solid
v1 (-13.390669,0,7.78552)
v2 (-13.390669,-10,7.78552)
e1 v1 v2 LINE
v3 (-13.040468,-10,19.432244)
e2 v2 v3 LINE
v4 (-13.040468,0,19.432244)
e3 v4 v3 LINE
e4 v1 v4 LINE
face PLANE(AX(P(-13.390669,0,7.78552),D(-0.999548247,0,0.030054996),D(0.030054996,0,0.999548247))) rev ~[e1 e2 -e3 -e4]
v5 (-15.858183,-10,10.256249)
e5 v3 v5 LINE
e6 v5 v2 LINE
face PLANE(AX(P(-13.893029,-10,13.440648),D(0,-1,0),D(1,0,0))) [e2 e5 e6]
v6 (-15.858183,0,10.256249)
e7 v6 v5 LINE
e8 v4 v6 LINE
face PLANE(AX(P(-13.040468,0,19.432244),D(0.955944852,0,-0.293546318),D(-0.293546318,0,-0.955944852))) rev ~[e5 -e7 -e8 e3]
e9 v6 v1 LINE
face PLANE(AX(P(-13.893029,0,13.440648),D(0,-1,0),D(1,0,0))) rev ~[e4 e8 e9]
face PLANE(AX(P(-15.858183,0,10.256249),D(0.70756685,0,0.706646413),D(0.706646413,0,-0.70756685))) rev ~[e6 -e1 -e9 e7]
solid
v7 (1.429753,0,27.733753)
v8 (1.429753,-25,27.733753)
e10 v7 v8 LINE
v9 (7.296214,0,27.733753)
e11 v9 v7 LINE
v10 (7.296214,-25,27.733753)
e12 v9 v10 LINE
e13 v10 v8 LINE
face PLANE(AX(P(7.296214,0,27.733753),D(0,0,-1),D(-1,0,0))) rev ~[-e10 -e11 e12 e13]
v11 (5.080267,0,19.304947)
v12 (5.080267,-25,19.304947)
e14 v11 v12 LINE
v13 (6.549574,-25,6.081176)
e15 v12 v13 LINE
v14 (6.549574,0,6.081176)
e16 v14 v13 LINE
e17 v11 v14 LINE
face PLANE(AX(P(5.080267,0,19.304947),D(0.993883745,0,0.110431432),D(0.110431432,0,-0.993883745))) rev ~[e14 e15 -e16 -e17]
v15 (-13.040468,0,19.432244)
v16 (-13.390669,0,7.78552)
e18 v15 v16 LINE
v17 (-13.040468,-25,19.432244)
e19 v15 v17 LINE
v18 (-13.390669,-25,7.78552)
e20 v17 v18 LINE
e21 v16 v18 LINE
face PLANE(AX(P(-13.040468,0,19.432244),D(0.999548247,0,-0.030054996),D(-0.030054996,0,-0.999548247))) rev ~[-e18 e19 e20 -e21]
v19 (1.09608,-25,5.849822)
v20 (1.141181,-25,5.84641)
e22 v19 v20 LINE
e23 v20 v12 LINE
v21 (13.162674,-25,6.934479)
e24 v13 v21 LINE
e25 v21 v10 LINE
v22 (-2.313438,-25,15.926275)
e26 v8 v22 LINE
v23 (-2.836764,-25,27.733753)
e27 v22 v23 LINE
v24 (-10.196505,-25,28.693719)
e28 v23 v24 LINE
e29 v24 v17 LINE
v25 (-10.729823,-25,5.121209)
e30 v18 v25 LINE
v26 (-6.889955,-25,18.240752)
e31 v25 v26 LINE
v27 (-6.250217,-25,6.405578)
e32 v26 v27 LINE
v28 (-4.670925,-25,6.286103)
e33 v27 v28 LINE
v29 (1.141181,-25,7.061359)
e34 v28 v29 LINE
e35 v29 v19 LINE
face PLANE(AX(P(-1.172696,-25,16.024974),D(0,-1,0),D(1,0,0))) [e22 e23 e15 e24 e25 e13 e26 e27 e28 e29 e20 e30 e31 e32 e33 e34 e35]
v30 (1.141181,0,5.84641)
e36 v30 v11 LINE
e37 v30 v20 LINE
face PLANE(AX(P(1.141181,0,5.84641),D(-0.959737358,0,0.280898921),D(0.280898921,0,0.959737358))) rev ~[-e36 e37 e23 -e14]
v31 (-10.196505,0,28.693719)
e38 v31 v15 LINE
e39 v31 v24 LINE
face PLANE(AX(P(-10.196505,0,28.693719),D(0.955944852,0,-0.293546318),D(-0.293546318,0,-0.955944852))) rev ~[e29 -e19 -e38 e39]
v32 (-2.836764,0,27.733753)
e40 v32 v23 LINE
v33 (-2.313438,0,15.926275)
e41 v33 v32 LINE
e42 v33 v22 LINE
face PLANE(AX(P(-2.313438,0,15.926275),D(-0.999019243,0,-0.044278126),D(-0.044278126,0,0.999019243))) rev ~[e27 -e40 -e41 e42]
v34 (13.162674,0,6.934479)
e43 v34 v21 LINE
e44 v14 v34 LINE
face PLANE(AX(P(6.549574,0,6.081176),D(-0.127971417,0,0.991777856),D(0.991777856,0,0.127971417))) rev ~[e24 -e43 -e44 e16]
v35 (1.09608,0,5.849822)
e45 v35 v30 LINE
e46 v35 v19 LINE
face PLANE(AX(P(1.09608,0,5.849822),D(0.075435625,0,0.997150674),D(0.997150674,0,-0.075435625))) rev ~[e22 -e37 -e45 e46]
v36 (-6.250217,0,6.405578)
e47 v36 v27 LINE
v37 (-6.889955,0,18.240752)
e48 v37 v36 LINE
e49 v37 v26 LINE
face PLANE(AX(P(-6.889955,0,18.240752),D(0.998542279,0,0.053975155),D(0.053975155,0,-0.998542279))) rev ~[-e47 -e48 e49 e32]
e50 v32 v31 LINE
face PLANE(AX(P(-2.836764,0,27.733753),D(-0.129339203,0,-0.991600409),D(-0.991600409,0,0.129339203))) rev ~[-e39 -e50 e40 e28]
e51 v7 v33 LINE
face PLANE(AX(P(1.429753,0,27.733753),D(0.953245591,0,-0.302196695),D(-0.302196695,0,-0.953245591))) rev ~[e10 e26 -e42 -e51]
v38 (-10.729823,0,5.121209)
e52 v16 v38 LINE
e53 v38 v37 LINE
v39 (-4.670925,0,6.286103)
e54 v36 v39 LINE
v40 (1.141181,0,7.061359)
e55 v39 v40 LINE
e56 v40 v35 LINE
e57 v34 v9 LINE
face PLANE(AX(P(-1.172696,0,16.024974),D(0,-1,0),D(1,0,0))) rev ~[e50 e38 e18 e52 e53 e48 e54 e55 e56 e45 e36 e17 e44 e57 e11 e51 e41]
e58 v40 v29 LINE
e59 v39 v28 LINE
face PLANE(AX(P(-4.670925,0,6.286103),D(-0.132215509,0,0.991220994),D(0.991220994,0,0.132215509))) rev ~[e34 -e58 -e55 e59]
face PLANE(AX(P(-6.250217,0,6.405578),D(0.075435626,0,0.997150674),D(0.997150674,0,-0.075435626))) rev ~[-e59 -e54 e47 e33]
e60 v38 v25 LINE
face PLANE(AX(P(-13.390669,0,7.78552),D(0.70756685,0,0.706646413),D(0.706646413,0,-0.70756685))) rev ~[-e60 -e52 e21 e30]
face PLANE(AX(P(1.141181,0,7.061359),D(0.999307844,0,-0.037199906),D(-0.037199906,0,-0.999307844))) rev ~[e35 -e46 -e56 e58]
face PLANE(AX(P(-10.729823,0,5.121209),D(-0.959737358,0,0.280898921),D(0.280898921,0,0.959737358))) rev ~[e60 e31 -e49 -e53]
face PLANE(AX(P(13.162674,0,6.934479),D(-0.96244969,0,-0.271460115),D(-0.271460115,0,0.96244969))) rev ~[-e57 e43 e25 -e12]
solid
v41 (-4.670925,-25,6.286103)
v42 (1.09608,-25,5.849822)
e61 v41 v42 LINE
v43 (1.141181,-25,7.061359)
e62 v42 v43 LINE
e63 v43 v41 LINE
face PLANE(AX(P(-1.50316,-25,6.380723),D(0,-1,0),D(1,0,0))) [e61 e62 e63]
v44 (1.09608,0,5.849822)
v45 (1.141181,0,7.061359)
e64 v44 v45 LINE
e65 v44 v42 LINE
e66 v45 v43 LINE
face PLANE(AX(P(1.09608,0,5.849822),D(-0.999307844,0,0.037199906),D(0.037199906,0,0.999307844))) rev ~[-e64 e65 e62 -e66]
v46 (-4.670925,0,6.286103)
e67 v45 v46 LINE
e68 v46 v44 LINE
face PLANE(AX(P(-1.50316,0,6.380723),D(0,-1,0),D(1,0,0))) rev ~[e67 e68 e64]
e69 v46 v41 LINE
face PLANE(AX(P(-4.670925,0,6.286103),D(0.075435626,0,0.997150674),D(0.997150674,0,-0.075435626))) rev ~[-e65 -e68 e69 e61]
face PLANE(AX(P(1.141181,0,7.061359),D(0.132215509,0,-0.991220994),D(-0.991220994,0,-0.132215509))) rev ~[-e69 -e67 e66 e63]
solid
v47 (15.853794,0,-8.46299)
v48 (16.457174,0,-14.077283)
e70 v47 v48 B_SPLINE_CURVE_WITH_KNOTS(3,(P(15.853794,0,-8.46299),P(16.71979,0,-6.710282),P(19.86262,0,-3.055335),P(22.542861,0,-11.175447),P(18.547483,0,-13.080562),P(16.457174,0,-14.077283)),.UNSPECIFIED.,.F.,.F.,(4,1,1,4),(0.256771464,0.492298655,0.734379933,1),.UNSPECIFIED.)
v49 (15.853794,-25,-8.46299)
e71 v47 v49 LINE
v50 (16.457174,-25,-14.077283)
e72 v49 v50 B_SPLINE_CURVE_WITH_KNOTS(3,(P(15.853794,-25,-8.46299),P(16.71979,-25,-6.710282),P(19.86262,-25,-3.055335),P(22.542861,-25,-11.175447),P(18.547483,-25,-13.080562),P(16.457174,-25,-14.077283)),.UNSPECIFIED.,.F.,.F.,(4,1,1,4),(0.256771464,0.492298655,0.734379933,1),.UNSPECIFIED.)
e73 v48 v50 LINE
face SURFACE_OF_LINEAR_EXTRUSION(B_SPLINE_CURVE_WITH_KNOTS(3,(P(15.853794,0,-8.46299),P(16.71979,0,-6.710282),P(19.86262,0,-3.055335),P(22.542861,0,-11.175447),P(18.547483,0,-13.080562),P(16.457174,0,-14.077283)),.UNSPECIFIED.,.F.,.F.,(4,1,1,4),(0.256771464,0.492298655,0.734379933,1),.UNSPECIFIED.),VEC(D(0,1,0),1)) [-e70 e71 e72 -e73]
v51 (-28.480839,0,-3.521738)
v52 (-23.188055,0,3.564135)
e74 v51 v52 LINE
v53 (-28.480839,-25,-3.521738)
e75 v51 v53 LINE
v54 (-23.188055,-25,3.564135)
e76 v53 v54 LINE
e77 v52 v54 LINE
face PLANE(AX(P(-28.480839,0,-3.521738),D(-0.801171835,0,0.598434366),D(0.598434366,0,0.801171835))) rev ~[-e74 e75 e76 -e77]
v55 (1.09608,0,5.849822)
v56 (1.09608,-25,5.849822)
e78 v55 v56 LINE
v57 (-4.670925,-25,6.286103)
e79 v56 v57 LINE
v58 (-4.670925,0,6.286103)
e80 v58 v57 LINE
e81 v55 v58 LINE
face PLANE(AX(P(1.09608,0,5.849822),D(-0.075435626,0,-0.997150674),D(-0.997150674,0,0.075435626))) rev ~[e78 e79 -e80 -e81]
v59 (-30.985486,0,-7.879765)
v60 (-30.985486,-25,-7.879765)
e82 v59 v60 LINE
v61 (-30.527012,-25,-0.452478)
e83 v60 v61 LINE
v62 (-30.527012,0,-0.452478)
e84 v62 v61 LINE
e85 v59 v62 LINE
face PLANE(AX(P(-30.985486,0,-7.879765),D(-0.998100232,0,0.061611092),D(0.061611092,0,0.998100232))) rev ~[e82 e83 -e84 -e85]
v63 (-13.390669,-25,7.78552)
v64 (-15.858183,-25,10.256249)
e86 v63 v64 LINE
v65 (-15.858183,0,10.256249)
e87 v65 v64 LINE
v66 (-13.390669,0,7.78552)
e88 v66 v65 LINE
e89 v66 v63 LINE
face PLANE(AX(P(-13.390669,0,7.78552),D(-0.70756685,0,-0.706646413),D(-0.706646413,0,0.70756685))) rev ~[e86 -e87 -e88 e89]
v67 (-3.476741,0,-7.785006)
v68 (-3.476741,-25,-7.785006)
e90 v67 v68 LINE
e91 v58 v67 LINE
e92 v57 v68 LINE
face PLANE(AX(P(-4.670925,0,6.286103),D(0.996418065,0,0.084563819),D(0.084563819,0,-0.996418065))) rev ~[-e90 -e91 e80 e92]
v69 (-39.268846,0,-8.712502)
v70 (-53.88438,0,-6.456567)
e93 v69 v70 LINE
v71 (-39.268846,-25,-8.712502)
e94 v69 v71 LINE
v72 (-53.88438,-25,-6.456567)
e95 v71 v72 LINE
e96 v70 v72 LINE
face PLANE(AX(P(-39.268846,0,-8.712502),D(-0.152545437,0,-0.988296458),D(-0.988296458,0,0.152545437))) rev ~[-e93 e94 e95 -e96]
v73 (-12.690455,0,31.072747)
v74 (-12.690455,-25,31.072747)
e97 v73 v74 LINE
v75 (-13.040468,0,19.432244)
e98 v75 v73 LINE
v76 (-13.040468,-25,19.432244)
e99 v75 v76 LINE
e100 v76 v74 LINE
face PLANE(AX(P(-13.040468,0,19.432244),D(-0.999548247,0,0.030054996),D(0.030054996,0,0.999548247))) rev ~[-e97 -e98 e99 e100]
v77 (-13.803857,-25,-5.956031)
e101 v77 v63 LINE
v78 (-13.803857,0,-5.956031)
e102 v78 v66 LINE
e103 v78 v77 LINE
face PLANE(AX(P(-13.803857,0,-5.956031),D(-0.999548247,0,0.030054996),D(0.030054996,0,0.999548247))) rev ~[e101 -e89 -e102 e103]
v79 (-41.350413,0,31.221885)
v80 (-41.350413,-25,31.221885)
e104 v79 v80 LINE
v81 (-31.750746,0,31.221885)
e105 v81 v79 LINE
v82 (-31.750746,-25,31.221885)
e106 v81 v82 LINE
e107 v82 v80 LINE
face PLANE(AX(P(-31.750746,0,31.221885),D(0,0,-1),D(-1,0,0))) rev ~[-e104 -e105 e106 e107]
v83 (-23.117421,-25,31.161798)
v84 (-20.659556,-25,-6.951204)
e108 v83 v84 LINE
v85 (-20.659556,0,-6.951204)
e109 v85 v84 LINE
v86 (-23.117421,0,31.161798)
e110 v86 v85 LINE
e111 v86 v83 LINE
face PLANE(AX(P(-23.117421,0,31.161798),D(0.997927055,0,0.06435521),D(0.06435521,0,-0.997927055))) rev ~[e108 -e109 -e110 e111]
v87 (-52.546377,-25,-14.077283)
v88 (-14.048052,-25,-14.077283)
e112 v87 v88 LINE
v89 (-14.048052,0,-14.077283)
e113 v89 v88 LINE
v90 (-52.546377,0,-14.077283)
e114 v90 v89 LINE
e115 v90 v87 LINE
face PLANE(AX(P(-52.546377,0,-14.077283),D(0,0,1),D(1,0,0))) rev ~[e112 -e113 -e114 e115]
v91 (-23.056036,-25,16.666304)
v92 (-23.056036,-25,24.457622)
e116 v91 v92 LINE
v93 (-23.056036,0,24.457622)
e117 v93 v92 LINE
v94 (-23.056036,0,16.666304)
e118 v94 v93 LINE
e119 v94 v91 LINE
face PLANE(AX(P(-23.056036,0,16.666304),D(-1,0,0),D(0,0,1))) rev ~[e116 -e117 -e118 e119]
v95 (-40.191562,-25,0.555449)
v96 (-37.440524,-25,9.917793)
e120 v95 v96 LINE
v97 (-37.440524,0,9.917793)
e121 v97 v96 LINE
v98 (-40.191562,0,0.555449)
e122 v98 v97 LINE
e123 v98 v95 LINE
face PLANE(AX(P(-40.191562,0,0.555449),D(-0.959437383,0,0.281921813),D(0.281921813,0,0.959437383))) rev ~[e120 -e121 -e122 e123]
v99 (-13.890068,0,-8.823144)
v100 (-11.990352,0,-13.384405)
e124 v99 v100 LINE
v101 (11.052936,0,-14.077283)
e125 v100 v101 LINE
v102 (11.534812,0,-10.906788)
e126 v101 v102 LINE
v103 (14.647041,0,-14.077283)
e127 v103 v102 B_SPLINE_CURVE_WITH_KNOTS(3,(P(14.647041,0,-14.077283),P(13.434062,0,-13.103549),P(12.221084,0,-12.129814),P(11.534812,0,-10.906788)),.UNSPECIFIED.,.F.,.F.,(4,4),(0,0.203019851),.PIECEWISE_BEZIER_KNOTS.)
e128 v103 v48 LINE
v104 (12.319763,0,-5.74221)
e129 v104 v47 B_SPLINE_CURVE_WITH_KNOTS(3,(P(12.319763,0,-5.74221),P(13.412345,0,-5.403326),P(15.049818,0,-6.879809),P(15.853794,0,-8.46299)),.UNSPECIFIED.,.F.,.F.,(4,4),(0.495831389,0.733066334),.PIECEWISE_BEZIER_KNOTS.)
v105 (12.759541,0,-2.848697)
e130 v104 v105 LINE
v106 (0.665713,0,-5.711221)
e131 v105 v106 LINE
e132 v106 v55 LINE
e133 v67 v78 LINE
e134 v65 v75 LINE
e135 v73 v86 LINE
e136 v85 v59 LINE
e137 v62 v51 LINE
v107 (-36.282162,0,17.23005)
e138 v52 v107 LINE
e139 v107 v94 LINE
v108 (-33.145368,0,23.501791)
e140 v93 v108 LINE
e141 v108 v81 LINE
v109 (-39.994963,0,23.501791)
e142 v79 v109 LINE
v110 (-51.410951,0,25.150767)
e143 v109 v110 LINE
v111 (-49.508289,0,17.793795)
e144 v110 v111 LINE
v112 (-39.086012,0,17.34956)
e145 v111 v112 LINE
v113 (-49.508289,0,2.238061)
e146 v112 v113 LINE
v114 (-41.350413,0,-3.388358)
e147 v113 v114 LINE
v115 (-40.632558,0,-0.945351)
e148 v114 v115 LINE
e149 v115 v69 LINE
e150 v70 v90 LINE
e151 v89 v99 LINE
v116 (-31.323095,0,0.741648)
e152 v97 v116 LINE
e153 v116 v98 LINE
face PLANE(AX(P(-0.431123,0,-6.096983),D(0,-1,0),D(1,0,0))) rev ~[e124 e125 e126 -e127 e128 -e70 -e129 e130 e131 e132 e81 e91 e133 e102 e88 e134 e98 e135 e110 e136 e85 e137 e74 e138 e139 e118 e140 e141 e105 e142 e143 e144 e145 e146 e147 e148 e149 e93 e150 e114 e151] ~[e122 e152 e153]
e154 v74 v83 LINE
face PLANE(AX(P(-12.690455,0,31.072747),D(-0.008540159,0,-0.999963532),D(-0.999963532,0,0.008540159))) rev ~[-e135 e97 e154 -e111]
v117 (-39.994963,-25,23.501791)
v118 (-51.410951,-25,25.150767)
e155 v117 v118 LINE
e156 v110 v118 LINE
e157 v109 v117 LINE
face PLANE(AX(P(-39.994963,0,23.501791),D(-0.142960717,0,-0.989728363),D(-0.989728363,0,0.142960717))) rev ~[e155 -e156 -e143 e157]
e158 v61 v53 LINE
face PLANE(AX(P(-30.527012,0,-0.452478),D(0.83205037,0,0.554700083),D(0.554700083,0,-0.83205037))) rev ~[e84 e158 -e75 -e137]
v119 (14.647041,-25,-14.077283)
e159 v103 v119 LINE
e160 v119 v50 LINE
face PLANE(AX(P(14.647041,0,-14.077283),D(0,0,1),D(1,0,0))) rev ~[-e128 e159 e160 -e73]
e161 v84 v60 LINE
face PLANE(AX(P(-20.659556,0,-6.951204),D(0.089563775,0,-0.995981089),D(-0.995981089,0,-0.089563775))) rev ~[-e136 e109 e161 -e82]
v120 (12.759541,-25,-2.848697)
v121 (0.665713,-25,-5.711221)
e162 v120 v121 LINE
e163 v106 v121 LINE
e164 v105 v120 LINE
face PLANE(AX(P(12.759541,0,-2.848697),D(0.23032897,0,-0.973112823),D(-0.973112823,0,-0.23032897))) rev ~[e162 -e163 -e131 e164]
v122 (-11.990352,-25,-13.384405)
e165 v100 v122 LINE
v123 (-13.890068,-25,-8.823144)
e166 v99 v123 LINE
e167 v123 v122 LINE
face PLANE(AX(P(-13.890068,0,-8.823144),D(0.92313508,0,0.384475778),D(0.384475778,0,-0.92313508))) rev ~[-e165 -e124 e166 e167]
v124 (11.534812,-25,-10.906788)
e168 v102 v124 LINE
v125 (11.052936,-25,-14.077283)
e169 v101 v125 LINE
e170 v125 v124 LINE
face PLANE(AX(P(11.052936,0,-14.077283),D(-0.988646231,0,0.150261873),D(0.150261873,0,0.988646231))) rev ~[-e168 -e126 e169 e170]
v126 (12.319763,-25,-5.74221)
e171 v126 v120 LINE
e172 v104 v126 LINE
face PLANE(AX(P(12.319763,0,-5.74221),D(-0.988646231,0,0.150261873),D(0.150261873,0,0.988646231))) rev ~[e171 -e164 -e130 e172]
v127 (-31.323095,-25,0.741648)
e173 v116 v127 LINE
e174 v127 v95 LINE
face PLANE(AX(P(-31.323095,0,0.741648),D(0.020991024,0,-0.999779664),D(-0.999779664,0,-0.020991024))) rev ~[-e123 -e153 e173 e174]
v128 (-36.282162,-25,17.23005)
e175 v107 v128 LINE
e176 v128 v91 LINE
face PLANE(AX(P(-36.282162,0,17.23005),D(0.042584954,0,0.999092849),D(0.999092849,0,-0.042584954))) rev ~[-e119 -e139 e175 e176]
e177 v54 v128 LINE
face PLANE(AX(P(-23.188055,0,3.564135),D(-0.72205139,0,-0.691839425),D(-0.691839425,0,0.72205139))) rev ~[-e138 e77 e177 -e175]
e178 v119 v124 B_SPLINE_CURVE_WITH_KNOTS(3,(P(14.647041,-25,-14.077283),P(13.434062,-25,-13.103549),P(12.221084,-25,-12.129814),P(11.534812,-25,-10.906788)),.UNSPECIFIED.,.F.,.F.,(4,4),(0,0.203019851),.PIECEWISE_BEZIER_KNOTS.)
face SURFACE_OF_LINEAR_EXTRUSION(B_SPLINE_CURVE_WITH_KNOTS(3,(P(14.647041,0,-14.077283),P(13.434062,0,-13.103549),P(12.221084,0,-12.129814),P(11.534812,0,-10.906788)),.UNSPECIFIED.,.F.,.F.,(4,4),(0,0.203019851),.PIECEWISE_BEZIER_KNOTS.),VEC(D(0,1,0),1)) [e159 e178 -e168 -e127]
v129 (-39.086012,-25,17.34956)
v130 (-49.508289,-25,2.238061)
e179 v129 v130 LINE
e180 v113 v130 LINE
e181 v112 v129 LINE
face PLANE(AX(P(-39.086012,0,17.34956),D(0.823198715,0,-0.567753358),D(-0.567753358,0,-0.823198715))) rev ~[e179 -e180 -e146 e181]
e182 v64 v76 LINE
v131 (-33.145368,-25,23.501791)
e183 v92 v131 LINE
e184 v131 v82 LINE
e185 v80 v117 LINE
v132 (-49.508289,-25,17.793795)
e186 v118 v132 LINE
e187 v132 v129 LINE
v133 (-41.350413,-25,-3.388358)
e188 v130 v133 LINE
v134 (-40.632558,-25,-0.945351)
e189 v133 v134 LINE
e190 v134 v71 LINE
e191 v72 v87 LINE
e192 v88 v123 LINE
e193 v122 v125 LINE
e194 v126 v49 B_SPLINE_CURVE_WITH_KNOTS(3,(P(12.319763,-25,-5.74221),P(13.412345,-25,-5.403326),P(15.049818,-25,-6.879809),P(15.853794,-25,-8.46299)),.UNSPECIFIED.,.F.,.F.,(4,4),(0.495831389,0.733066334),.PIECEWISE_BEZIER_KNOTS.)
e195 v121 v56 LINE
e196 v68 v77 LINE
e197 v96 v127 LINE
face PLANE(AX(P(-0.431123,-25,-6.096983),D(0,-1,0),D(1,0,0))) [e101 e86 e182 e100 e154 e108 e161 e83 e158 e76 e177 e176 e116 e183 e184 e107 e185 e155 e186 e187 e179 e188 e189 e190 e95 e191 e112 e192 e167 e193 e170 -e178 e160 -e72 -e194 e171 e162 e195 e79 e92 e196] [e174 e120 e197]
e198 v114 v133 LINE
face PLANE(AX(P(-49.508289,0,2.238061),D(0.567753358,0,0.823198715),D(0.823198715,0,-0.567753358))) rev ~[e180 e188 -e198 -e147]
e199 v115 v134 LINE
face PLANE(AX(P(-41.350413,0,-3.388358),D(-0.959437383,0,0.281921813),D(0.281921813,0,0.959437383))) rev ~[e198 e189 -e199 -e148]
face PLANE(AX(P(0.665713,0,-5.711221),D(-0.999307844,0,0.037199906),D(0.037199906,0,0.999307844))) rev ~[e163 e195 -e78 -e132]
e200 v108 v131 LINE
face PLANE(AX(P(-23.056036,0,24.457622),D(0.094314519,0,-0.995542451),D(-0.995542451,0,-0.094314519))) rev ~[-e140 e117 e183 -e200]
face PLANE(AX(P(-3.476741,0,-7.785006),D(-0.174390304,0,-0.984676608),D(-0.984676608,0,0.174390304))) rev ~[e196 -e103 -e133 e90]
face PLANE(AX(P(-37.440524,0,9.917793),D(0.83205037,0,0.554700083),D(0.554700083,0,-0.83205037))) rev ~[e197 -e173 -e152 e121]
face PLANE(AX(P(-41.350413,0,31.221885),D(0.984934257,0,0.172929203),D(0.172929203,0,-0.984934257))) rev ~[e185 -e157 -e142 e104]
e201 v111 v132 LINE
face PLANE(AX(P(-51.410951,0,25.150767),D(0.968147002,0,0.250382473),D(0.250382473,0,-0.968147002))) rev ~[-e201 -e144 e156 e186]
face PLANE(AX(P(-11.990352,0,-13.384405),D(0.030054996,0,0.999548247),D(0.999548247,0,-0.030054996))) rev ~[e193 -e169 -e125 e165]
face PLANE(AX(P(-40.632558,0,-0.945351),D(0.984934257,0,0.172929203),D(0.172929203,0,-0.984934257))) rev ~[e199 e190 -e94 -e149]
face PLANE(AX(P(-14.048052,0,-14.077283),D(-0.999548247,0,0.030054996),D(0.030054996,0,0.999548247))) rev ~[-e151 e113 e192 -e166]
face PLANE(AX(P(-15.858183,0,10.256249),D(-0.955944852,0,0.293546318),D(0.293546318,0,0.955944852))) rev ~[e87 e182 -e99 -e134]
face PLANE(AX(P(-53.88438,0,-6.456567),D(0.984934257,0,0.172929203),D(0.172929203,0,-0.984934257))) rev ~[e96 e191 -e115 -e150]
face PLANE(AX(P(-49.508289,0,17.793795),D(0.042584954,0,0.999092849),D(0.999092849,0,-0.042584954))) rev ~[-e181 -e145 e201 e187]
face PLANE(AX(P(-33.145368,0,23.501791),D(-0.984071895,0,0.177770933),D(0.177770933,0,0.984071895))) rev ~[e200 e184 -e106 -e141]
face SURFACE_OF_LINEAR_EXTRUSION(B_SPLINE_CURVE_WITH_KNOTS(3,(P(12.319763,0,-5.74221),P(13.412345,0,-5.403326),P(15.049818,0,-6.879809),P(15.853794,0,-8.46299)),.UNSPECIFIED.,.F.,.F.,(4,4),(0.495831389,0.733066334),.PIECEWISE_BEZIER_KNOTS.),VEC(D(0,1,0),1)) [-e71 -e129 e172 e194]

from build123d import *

# Parameters (mm, degrees)
F1_DEPTH = 25
F2_DEPTH = 25
F3_DEPTH = 10


with BuildPart() as f1:
    # F0 (on Front) → F1 (new body)
    with BuildSketch(Plane.XZ):
        with BuildLine():
            Line((-13.8038574857, -5.9560307972), (-13.8900675013, -8.8231437689))
            Line((-13.8900675013, -8.8231437689), (-11.9903517299, -13.3844045008))
            Line((-11.9903517299, -13.3844045008), (11.0529363155, -14.0772834495))
            Line((11.0529363155, -14.0772834495), (11.5348120517, -10.9067876988))
            add(Edge.make_bspline(
                [(11.5348120517, -10.9067876988), (11.3135547888, -10.5124783179), (10.5686752324, -8.6326108447), (11.272674479, -6.0669834143), (12.3197633371, -5.7422099285)],
                knots=[0.2030198512, 0.2030198512, 0.2030198512, 0.2030198512, 0.268474381, 0.4958313893, 0.4958313893, 0.4958313893, 0.4958313893], degree=3))
            Line((12.3197633371, -5.7422099285), (12.7595411614, -2.8486968949))
            Line((12.7595411614, -2.8486968949), (0.6657127524, -5.7112211362))
            Line((0.6657127524, -5.7112211362), (1.0960803472, 5.8498218141))
            Line((1.0960803472, 5.8498218141), (-4.6709247271, 6.2861025564))
            Line((-4.6709247271, 6.2861025564), (-3.4767405596, -7.7850059606))
            Line((-3.4767405596, -7.7850059606), (-13.8038574857, -5.9560307972))
        make_face()
        with BuildLine():
            Line((12.3197633371, -5.7422099285), (11.5348120517, -10.9067876988))
            add(Edge.make_bspline(
                [(14.6470405161, -14.0772834495), (13.434062326, -13.1035488802), (12.2210841359, -12.1298143109), (11.5348120517, -10.9067876988)],
                knots=[0, 0, 0, 0, 0.2030198512, 0.2030198512, 0.2030198512, 0.2030198512], degree=3))
            add(Edge.make_bspline(
                [(14.6470405161, -14.0772834495), (14.7783635464, -12.225537172), (14.9096865767, -10.3737908946), (15.8537942916, -8.4629901722)],
                knots=[0, 0, 0, 0, 0.2567714645, 0.2567714645, 0.2567714645, 0.2567714645], degree=3))
            add(Edge.make_bspline(
                [(12.3197633371, -5.7422099285), (13.4123448631, -5.4033260717), (15.0498181243, -6.8798091029), (15.8537942916, -8.4629901722)],
                knots=[0.4958313893, 0.4958313893, 0.4958313893, 0.4958313893, 0.7330663337, 0.7330663337, 0.7330663337, 0.7330663337], degree=3))
        make_face()
        with BuildLine():
            add(Edge.make_bspline(
                [(14.6470405161, -14.0772834495), (14.7783635464, -12.225537172), (14.9096865767, -10.3737908946), (15.8537942916, -8.4629901722)],
                knots=[0, 0, 0, 0, 0.2567714645, 0.2567714645, 0.2567714645, 0.2567714645], degree=3))
            Line((14.6470405161, -14.0772834495), (16.4571739733, -14.0772834495))
            add(Edge.make_bspline(
                [(15.8537942916, -8.4629901722), (16.7584177928, -10.2443648698), (16.6077958831, -12.1608241597), (16.4571739733, -14.0772834495)],
                knots=[0.7330663337, 0.7330663337, 0.7330663337, 0.7330663337, 1, 1, 1, 1], degree=3))
        make_face()
        with BuildLine():
            add(Edge.make_bspline(
                [(15.8537942916, -8.4629901722), (16.7197902017, -6.710281679), (19.8626204277, -3.0553352577), (22.5428614328, -11.1754474135), (18.5474829796, -13.0805622014), (16.4571739733, -14.0772834495)],
                knots=[0.2567714645, 0.2567714645, 0.2567714645, 0.2567714645, 0.4922986554, 0.7343799329, 1, 1, 1, 1], degree=3))
            add(Edge.make_bspline(
                [(15.8537942916, -8.4629901722), (16.7584177928, -10.2443648698), (16.6077958831, -12.1608241597), (16.4571739733, -14.0772834495)],
                knots=[0.7330663337, 0.7330663337, 0.7330663337, 0.7330663337, 1, 1, 1, 1], degree=3))
        make_face()
        with BuildLine():
            add(Edge.make_bspline(
                [(11.5348120517, -10.9067876988), (11.3135547888, -10.5124783179), (10.5686752324, -8.6326108447), (11.272674479, -6.0669834143), (12.3197633371, -5.7422099285)],
                knots=[0.2030198512, 0.2030198512, 0.2030198512, 0.2030198512, 0.268474381, 0.4958313893, 0.4958313893, 0.4958313893, 0.4958313893], degree=3))
            Line((11.5348120517, -10.9067876988), (12.3197633371, -5.7422099285))
        make_face()
        Polygon((-23.1174211949, 31.1617981642), (-20.6595559266, -6.951203708), (-19.0555751324, -6.8069654517), (-17.6979787648, -14.0772834495), (-14.0480520204, -14.0772834495), (-13.8900675013, -8.8231437689), (-15.186149627, -5.7112211362), (-13.8038574857, -5.9560307972), (-13.3906685564, 7.7855203546), (-15.8581826836, 10.2562485263), (-13.0404681098, 19.4322441848), (-12.6904547215, 31.0727469623), align=None)
        Polygon((-31.7507460713, 31.2218852341), (-41.3504131138, 31.2218852341), (-39.9949625134, 23.50179106), (-51.4109507203, 25.1507665962), (-49.5082885027, 17.7937950939), (-39.0860124502, 17.3495599563), (-36.282162182, 17.230049707), (-23.0560358614, 16.6663043201), (-23.0560358614, 24.4576222396), (-33.1453680992, 23.50179106), align=None)
        Polygon((-36.282162182, 17.230049707), (-39.0860124502, 17.3495599563), (-49.5082885027, 2.2380610462), (-41.3504131138, -3.388358266), (-40.6325580547, -0.945351209), (-41.0359203815, 0.5377207999), (-40.1915618765, 0.5554486558), (-37.4405235052, 9.9177928641), (-31.3230953161, 0.7416478779), (-30.4521713406, 0.7599334931), (-30.5270115259, -0.452478159), (-28.4808389843, -3.5217378754), (-23.1880545616, 3.5641349386), align=None)
        Polygon((-40.1915618765, 0.5554486558), (-40.6325580547, -0.945351209), (-39.2688455248, -8.7125019663), (-53.8843795657, -6.4565665089), (-52.5463770596, -14.0772834495), (-20.2000029385, -14.0772834495), (-20.6595559266, -6.951203708), (-30.9854857624, -7.879764773), (-30.5270115259, -0.452478159), (-31.3230953161, 0.7416478779), align=None)
        Polygon((-41.0359203815, 0.5377207999), (-40.6325580547, -0.945351209), (-40.1915618765, 0.5554486558), align=None)
        Polygon((-31.3230953161, 0.7416478779), (-30.5270115259, -0.452478159), (-30.4521713406, 0.7599334931), align=None)
        Polygon((-19.0555751324, -6.8069654517), (-20.6595559266, -6.951203708), (-20.2000029385, -14.0772834495), (-17.6979787648, -14.0772834495), align=None)
        Polygon((-15.186149627, -5.7112211362), (-13.8900675013, -8.8231437689), (-13.8038574857, -5.9560307972), align=None)
    extrude(amount=F1_DEPTH)


with BuildPart() as f1b:
    # F0 (on Front) → F1, piece 2 (new body)
    with BuildSketch(Plane.XZ):
        Polygon((-10.1965051144, 28.6937188357), (-13.0404681098, 19.4322441848), (-13.3906685564, 7.7855203546), (-10.7298232615, 5.121209193), (-6.889954675, 18.2407516986), (-6.2502167691, 6.4055778638), (-4.6709247271, 6.2861025564), (1.1411806336, 7.0613590069), (1.0960803472, 5.8498218141), (1.1411806336, 5.8464099242), (5.0802672746, 19.3049472298), (6.5495739691, 6.0811755247), (13.1626743823, 6.9344793446), (7.2962138802, 27.733752504), (1.4297531452, 27.733752504), (-2.3134381045, 15.9262754023), (-2.8367643245, 27.733752504), align=None)
    extrude(amount=F1_DEPTH)


with BuildPart() as f2:
    # F0 (on Front) → F2 (new body)
    with BuildSketch(Plane.XZ):
        Polygon((1.1411806336, 7.0613590069), (-4.6709247271, 6.2861025564), (1.0960803472, 5.8498218141), align=None)
    extrude(amount=F2_DEPTH)


with BuildPart() as f3:
    # F0 (on Front) → F3 (new body)
    with BuildSketch(Plane.XZ):
        Polygon((-13.3906685564, 7.7855203546), (-13.0404681098, 19.4322441848), (-15.8581826836, 10.2562485263), align=None)
    extrude(amount=F3_DEPTH)


solid = Compound([f1.part, f1b.part, f2.part, f3.part])
